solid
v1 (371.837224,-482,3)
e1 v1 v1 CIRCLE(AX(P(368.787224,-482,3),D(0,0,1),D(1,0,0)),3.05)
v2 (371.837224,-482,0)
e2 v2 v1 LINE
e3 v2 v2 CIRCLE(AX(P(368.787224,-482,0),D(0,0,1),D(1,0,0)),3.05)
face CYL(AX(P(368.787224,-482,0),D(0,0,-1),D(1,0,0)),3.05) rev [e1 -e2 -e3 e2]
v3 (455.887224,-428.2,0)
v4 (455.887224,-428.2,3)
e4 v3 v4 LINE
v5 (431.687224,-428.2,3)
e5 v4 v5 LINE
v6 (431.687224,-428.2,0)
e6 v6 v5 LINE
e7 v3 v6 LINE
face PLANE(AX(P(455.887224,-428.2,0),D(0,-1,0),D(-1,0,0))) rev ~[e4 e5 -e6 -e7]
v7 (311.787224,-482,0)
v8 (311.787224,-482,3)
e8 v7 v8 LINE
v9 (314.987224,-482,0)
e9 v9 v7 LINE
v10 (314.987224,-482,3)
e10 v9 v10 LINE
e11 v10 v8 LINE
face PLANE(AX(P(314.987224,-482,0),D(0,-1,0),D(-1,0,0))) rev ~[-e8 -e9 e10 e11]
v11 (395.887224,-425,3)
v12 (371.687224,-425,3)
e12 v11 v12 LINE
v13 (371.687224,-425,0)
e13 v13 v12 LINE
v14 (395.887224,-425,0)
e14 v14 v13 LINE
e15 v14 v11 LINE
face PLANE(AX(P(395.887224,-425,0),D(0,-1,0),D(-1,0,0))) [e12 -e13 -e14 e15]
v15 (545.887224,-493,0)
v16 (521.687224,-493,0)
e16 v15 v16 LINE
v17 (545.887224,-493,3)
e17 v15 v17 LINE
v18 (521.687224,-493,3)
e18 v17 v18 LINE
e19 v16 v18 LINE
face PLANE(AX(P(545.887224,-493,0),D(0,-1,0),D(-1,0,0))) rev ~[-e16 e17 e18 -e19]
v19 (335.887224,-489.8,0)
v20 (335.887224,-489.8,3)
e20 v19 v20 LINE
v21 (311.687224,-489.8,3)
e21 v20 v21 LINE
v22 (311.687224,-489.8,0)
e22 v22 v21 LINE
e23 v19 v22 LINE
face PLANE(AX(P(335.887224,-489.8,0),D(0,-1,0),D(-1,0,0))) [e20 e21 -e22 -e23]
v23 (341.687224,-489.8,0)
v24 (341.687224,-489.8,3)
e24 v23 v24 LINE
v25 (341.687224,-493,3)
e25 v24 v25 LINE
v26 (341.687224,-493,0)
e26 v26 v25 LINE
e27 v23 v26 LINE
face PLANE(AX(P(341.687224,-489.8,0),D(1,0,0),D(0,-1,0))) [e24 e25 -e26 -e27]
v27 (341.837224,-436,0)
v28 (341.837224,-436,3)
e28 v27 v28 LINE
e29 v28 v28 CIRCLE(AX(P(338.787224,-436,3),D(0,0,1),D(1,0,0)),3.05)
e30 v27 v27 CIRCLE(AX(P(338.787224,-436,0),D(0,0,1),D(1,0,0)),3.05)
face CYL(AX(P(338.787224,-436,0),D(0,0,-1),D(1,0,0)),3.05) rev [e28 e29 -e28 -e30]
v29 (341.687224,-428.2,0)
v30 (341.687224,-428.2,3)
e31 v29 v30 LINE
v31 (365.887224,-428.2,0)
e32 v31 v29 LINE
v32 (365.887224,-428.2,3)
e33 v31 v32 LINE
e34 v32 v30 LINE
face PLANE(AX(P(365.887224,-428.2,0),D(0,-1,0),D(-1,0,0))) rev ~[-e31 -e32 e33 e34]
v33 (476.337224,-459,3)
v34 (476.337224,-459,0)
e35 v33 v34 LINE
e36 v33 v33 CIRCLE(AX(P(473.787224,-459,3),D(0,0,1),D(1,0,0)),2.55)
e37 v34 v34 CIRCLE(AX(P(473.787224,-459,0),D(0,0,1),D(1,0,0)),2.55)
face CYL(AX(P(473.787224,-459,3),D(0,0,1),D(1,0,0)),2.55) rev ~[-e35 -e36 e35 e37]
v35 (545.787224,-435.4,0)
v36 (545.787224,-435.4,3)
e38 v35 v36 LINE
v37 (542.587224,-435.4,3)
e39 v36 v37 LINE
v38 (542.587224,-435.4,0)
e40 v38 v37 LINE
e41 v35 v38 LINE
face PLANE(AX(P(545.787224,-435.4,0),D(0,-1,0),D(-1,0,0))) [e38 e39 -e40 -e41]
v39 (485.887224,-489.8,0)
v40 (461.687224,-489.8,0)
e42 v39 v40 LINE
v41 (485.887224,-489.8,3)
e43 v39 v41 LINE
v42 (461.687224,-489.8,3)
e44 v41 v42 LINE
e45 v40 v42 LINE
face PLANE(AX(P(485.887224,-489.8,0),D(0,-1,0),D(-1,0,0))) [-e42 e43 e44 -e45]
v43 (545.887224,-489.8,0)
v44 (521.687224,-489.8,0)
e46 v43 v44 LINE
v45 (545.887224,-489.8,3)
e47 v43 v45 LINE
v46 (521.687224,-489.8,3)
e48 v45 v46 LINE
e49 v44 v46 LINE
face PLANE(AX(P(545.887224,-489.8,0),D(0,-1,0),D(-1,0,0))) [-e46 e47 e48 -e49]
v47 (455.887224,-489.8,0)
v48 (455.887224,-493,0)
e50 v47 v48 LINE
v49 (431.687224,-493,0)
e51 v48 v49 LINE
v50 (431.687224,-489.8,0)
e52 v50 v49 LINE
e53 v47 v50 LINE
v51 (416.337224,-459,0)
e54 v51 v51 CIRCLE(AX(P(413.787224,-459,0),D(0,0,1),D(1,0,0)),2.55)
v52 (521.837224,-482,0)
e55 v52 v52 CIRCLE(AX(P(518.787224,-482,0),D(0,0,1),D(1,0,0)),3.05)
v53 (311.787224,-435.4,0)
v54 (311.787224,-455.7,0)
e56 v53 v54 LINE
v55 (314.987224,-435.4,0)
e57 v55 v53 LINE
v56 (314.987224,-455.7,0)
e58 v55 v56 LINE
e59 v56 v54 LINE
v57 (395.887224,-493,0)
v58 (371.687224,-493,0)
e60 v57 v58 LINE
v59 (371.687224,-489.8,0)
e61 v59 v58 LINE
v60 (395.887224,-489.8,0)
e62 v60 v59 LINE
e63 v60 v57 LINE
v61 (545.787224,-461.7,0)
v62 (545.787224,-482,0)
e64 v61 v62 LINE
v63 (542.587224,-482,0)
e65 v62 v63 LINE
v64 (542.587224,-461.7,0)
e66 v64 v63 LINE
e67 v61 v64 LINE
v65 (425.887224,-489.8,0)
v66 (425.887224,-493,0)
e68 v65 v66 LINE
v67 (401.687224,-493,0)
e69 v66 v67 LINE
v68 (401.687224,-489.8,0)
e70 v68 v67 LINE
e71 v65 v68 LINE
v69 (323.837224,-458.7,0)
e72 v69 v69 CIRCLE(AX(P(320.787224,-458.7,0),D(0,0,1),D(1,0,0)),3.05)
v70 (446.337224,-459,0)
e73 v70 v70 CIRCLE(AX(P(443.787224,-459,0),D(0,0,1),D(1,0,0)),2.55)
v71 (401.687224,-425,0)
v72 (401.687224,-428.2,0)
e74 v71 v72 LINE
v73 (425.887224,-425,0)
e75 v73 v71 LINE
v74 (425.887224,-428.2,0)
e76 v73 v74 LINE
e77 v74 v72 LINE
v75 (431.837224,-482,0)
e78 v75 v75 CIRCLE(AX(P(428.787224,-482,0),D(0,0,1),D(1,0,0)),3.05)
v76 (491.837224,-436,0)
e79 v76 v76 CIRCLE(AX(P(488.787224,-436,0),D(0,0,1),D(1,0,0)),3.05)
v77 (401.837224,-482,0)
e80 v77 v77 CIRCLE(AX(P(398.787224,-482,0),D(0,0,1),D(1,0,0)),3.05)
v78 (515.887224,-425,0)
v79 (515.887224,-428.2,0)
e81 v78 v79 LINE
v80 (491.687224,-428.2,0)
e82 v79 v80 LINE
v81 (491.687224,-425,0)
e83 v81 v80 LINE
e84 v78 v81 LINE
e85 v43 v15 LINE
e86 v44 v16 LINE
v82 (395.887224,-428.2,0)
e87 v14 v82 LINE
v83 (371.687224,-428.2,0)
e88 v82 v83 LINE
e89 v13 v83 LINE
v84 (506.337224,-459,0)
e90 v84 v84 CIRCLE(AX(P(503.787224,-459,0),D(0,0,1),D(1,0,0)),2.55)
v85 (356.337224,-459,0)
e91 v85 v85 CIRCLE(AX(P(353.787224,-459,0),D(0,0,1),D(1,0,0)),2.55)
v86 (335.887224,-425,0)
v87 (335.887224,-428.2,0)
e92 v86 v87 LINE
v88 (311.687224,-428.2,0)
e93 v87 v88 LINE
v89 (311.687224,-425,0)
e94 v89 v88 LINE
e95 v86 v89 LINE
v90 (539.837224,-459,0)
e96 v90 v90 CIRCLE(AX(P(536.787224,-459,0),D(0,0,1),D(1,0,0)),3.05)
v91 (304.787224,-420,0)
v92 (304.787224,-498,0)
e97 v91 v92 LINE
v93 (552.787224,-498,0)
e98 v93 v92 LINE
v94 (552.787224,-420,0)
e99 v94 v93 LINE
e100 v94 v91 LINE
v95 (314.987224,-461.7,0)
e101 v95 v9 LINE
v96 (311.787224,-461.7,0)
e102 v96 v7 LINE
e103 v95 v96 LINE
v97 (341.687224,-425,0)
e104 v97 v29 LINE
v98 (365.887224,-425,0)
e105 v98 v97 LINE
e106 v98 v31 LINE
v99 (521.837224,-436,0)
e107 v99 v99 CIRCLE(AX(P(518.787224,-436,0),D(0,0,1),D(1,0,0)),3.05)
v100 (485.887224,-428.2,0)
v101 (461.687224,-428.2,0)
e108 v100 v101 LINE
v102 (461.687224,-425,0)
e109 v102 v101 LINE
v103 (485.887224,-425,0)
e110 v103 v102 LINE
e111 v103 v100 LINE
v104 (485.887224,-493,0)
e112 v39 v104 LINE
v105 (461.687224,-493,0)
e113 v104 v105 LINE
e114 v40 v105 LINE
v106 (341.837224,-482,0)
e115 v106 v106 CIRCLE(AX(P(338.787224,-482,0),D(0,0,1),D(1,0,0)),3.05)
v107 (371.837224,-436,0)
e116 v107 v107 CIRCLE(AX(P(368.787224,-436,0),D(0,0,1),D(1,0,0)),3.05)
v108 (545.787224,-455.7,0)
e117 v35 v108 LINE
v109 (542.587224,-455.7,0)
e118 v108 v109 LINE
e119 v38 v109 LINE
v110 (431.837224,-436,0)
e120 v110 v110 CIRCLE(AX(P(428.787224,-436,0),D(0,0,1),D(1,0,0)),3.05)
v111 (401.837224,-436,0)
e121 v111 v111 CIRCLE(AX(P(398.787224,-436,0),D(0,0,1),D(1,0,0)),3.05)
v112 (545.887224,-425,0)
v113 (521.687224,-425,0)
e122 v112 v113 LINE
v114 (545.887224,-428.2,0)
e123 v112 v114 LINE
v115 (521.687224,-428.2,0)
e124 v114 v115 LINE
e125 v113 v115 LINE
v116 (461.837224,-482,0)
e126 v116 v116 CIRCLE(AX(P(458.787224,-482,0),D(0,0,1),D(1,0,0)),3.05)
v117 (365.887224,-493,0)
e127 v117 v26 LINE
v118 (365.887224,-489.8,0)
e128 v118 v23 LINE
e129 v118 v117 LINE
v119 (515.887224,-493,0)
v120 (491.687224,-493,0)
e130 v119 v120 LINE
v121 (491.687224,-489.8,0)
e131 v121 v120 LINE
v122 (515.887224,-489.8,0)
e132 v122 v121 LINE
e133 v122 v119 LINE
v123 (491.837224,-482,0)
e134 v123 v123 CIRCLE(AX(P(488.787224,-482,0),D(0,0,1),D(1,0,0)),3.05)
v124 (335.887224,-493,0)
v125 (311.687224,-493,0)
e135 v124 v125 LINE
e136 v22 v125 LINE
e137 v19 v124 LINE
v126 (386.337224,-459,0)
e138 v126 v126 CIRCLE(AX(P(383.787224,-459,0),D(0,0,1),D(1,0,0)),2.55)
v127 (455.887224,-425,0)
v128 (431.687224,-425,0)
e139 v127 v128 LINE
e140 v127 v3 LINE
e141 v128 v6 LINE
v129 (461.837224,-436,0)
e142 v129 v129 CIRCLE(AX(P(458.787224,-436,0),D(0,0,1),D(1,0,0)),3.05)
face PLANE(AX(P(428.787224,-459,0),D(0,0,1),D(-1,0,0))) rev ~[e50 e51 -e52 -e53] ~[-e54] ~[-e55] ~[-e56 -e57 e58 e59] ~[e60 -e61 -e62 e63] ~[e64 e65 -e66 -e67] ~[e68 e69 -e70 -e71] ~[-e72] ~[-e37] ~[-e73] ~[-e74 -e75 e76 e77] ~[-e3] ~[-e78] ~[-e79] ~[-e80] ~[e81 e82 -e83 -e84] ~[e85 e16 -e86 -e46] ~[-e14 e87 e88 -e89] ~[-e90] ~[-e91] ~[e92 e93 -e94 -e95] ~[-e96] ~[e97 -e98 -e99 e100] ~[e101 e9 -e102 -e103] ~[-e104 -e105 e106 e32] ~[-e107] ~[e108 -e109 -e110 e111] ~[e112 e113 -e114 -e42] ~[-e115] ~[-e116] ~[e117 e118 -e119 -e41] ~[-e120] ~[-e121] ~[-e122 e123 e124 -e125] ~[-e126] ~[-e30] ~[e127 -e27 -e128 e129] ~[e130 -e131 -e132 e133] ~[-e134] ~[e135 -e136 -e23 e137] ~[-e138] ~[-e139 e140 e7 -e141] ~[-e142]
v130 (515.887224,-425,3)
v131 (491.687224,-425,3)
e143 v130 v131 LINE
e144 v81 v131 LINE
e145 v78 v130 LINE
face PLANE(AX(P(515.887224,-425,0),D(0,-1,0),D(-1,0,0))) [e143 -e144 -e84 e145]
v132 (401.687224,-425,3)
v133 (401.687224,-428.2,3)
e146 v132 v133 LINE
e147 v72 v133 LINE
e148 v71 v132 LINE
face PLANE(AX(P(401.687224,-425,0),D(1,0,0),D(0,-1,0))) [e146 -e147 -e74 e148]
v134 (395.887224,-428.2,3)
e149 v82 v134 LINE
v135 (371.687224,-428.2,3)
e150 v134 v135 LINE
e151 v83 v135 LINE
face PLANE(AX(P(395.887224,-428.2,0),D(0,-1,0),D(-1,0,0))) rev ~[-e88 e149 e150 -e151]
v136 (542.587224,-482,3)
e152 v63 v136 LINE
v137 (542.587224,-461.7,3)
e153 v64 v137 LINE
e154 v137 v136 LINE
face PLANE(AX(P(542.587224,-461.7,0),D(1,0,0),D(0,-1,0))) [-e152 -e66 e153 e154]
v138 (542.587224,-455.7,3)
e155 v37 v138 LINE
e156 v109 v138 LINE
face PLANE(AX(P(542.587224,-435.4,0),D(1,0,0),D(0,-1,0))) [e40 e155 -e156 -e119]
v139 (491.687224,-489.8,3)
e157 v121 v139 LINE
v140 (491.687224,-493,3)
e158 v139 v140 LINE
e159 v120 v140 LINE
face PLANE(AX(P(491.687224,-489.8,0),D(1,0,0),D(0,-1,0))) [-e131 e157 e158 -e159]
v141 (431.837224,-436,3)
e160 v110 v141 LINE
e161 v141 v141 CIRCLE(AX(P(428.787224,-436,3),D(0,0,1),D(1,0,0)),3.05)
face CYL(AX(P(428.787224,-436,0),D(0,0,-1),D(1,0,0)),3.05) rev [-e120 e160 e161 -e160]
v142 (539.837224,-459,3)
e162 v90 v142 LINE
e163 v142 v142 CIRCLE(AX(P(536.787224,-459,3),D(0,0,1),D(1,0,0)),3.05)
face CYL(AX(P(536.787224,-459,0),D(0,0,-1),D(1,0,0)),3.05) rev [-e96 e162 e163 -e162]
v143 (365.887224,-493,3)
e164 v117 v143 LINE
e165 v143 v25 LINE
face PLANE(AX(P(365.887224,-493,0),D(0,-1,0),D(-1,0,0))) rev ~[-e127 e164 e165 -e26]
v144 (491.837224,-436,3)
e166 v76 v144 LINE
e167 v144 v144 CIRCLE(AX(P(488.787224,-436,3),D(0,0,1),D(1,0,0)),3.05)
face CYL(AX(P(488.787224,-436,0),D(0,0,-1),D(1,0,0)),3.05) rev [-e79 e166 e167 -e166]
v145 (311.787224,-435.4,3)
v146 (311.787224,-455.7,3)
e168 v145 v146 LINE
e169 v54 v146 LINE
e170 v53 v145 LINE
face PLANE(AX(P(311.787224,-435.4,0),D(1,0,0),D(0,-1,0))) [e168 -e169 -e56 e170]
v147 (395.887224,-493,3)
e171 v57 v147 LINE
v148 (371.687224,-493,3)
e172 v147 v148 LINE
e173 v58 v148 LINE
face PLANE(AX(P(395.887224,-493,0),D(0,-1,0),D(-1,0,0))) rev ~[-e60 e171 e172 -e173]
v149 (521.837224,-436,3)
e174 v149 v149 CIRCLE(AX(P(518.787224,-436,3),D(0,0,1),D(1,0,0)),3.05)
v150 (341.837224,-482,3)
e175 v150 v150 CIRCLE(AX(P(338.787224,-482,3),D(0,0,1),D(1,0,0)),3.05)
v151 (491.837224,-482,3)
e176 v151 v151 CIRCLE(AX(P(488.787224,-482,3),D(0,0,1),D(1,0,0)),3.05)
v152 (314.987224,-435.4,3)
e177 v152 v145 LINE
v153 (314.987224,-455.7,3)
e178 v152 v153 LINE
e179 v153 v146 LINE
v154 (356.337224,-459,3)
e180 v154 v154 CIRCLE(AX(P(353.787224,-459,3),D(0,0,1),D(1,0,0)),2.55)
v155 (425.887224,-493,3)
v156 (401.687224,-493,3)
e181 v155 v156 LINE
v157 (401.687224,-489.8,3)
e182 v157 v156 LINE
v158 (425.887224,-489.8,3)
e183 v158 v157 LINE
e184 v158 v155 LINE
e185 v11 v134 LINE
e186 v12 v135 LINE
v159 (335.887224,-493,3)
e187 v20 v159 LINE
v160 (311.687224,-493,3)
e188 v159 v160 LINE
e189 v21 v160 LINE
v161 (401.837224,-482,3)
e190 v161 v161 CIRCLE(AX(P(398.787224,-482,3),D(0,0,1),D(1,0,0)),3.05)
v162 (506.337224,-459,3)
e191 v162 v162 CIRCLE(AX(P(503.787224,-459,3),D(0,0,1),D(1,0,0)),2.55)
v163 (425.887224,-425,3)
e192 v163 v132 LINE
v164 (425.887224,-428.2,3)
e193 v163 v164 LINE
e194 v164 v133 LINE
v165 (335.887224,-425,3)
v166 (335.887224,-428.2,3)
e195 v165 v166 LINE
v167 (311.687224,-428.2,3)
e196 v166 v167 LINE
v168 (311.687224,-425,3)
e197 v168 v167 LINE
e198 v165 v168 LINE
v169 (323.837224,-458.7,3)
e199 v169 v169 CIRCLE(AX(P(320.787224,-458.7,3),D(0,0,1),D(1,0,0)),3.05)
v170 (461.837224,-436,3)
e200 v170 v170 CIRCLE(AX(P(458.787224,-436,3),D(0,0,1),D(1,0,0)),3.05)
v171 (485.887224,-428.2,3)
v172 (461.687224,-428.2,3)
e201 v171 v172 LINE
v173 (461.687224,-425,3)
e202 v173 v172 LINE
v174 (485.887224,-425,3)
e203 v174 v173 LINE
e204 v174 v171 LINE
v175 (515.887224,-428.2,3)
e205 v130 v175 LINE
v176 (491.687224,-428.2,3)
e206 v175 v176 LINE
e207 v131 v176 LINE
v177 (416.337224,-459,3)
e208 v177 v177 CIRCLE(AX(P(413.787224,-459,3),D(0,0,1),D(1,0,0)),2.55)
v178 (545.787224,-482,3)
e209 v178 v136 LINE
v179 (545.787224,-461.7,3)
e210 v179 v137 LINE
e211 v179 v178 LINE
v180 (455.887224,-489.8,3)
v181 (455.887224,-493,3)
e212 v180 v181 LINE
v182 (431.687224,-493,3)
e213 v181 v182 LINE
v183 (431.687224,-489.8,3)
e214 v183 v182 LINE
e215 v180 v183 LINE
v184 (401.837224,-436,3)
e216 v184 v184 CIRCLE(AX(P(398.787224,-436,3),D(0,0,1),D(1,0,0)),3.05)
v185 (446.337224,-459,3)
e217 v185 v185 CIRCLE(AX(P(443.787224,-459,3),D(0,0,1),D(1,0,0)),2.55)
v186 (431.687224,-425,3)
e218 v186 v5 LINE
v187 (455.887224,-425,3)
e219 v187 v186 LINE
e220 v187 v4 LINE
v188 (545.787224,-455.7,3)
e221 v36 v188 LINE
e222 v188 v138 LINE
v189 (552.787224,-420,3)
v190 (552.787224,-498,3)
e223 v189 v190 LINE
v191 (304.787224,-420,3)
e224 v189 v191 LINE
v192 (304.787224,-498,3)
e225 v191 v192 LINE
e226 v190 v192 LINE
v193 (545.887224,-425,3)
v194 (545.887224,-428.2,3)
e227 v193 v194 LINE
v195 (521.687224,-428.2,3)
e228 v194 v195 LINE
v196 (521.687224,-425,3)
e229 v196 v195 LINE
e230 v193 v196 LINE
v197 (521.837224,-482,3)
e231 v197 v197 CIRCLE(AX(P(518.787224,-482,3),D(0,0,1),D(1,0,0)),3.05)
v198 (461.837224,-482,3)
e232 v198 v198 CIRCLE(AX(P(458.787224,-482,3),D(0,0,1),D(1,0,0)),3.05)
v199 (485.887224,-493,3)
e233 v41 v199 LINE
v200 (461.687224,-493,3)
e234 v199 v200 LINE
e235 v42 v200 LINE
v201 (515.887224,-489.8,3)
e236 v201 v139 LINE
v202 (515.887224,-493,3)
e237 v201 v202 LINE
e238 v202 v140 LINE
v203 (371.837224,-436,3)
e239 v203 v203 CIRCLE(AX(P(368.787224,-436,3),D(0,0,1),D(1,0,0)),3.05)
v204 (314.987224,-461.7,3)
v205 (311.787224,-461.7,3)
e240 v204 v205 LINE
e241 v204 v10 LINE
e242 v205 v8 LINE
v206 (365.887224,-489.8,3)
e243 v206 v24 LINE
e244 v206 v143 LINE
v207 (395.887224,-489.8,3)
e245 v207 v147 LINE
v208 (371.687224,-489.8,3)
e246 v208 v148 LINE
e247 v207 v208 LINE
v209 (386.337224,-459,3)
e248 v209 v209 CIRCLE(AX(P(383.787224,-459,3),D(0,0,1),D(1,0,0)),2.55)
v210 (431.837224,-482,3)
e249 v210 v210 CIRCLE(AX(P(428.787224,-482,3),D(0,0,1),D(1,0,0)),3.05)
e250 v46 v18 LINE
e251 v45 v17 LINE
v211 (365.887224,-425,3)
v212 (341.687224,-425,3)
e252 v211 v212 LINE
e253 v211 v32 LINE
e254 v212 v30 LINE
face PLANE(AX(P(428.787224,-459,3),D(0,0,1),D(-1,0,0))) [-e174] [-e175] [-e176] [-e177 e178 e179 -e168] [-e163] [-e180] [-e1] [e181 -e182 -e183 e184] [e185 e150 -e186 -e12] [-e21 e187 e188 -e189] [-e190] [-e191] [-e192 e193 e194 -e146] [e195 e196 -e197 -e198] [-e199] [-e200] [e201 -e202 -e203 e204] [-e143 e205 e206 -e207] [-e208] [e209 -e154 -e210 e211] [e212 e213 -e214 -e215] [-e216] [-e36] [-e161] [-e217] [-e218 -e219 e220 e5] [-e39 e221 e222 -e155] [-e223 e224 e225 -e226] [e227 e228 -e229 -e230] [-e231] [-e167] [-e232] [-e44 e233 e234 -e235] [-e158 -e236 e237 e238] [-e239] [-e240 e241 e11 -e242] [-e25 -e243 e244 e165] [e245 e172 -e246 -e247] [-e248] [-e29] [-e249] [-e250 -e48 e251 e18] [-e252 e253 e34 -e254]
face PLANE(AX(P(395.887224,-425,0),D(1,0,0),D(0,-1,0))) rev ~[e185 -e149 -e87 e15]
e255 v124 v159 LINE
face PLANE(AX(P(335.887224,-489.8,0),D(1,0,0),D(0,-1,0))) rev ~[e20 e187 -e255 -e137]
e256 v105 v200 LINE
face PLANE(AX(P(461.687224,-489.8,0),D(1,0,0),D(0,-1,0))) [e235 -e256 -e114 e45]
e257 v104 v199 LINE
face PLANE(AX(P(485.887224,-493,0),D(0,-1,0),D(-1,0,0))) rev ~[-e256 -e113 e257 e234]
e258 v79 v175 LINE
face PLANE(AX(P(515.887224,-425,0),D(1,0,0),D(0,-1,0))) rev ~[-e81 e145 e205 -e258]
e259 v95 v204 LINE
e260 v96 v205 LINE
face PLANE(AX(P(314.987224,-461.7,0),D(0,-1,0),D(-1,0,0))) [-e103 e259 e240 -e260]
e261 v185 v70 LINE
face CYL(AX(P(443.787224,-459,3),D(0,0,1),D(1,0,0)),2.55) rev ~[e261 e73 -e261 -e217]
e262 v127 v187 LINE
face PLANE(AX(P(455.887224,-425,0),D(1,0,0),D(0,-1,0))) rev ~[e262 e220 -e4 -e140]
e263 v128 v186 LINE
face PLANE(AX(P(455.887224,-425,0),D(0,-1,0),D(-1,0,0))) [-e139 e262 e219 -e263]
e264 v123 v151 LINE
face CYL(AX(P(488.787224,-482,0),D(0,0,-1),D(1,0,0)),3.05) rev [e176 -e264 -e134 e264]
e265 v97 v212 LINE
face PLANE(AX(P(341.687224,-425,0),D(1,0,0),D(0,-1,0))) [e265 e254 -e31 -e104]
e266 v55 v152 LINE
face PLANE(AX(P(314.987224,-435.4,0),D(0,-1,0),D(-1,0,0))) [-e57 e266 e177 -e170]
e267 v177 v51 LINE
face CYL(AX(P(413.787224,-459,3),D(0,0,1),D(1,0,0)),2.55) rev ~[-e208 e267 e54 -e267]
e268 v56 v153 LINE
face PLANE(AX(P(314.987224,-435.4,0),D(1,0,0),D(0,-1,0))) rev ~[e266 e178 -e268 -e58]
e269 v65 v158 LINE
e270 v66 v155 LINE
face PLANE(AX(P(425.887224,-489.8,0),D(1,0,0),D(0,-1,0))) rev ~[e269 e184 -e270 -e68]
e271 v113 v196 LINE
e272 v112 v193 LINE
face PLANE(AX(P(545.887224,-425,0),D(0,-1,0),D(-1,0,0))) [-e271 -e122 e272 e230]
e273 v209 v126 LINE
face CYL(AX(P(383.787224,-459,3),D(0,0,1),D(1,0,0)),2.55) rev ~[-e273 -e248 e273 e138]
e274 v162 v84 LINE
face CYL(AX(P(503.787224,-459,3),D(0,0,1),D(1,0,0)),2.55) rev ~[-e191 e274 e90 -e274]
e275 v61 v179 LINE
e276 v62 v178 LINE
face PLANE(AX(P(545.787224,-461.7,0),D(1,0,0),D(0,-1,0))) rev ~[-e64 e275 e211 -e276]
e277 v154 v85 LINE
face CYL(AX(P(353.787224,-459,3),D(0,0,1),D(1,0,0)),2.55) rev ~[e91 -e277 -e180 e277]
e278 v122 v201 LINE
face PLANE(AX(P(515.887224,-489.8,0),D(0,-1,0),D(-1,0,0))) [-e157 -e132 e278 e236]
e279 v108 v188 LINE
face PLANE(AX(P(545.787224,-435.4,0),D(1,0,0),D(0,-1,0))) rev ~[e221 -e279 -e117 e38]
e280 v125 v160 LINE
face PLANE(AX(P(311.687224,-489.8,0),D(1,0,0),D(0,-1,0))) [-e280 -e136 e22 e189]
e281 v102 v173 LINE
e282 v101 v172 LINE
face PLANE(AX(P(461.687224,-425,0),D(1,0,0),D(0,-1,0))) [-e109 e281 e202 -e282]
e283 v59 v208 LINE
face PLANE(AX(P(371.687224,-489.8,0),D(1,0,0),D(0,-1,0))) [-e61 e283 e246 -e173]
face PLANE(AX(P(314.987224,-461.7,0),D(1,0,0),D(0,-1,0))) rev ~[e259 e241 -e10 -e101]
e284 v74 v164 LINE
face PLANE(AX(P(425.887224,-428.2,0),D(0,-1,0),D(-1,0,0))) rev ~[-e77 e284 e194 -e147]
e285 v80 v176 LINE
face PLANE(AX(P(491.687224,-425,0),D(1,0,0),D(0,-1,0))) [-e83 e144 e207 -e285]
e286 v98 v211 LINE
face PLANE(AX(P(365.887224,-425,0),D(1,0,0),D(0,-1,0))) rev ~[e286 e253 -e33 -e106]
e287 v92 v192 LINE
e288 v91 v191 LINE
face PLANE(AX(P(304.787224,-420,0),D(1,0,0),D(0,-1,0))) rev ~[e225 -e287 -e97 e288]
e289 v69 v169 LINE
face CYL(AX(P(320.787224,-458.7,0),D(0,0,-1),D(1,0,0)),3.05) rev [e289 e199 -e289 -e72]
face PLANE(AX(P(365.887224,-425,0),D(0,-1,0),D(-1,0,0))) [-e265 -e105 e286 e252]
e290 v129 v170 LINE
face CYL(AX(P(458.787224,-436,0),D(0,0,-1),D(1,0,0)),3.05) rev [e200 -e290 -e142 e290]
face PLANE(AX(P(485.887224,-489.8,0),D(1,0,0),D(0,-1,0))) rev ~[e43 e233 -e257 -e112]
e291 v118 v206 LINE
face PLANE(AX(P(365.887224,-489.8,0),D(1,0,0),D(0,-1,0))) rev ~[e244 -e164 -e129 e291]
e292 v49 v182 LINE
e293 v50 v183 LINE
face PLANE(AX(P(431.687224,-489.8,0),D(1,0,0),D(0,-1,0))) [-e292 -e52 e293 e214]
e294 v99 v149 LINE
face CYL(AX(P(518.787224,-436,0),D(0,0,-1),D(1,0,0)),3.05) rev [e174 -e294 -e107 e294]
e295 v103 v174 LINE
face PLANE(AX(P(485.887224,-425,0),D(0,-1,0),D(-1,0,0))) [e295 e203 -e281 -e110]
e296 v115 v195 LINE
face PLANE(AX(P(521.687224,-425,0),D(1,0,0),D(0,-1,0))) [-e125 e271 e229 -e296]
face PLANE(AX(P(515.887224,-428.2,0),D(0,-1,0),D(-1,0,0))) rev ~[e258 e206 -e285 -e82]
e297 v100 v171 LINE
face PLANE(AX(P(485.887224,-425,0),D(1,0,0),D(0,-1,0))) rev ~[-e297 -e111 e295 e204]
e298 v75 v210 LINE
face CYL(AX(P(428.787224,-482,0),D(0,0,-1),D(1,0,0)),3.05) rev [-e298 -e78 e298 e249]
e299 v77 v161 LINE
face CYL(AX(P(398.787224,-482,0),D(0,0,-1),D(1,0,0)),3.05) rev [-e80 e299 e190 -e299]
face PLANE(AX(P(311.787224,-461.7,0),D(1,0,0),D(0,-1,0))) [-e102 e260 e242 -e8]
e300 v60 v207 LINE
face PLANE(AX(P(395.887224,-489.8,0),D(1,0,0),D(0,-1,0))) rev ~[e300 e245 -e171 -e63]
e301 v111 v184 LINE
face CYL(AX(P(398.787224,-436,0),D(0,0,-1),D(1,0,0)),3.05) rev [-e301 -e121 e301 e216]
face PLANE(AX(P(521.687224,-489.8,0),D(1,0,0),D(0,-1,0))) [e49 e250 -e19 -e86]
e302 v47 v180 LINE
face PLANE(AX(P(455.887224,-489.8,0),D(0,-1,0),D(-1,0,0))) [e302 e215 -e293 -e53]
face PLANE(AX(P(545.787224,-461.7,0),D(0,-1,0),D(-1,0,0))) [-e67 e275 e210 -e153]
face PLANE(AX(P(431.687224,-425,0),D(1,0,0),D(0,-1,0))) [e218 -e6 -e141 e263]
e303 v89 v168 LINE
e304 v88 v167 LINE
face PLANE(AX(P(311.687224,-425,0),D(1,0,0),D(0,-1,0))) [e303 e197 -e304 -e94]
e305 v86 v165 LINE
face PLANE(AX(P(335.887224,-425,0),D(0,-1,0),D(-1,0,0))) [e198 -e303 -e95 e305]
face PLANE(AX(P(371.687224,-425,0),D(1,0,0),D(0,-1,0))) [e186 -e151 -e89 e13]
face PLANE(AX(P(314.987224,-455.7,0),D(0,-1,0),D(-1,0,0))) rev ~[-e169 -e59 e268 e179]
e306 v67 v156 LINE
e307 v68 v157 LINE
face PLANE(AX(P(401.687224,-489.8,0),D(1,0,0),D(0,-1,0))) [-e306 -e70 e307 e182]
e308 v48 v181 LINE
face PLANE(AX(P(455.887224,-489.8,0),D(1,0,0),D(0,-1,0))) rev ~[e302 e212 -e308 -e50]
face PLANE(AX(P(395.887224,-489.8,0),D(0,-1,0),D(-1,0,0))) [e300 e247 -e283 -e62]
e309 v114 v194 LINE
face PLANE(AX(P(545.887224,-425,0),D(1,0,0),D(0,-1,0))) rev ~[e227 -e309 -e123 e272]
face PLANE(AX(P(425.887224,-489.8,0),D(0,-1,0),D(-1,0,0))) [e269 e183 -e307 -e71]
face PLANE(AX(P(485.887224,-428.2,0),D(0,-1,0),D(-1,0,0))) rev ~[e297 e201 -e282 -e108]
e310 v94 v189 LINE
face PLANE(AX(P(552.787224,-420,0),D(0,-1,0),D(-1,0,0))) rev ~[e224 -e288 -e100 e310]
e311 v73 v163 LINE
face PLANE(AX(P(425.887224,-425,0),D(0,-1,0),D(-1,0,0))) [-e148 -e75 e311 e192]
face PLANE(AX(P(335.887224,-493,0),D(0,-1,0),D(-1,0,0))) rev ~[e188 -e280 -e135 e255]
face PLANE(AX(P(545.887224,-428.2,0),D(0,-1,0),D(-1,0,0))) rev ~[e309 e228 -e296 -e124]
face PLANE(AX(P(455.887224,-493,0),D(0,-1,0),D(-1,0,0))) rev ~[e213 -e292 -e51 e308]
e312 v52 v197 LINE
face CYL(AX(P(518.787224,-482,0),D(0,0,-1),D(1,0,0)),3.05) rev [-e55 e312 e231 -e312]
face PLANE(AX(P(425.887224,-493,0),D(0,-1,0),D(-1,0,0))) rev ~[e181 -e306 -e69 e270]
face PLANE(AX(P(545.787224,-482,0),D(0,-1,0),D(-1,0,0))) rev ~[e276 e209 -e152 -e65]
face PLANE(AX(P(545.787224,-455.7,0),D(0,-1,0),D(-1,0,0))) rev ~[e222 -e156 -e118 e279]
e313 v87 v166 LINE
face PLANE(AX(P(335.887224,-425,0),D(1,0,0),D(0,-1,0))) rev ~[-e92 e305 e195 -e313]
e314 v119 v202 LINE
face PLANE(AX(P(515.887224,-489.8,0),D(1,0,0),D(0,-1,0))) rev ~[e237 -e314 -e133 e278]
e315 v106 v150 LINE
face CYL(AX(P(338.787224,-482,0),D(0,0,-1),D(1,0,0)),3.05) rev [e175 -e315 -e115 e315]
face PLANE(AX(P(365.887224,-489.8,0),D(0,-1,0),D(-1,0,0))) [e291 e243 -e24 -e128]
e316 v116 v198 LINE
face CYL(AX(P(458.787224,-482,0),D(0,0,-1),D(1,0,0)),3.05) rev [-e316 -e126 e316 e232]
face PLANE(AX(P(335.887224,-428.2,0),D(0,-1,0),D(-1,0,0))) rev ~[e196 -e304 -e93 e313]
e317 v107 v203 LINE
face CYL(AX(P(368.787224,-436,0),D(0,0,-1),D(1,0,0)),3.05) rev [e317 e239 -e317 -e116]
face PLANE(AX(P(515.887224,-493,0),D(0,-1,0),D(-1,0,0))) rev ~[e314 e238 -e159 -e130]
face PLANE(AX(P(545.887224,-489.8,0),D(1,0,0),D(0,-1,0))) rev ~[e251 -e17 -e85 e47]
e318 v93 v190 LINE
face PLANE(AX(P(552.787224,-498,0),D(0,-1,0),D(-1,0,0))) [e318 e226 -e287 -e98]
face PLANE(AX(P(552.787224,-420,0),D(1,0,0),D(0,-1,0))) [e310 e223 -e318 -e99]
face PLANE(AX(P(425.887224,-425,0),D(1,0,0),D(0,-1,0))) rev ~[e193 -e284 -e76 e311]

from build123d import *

# Parameters (mm, degrees)
SKETCH1_W           = 248
SKETCH1_H           = 78
SKETCH1_R           = 3.05
SKETCH1_W_2         = 24.2
SKETCH1_H_2         = 3.2
SKETCH1_W_3         = 3.2
SKETCH1_H_3         = 20.3
BOSS_EXTRUDE2_DEPTH = 3
SKETCH5_R           = 2.55
CUT_EXTRUDE1_DEPTH  = 10


with BuildPart() as part:
    # Sketch1 → Boss-Extrude2 (new body)
    with BuildSketch(Plane(origin=(0, 0, 0), x_dir=(-1, 0, 0), z_dir=(0, 0, 1))):
        with Locations((-428.787224347, 459)):
            Rectangle(SKETCH1_W, SKETCH1_H)
        with Locations(Location((-338.787224347, 436, 0), (0, 0, 180))):
            Circle(SKETCH1_R, mode=Mode.SUBTRACT)
        with Locations(Location((-368.787224347, 436, 0), (0, 0, 180))):
            Circle(SKETCH1_R, mode=Mode.SUBTRACT)
        with Locations(Location((-428.787224347, 436, 0), (0, 0, 180))):
            Circle(SKETCH1_R, mode=Mode.SUBTRACT)
        with Locations(Location((-398.787224347, 436, 0), (0, 0, 180))):
            Circle(SKETCH1_R, mode=Mode.SUBTRACT)
        with Locations(Location((-488.787224347, 436, 0), (0, 0, 180))):
            Circle(SKETCH1_R, mode=Mode.SUBTRACT)
        with Locations(Location((-458.787224347, 436, 0), (0, 0, 180))):
            Circle(SKETCH1_R, mode=Mode.SUBTRACT)
        with Locations(Location((-458.787224347, 482, 0), (0, 0, 180))):
            Circle(SKETCH1_R, mode=Mode.SUBTRACT)
        with Locations(Location((-428.787224347, 482, 0), (0, 0, 180))):
            Circle(SKETCH1_R, mode=Mode.SUBTRACT)
        with Locations(Location((-398.787224347, 482, 0), (0, 0, 180))):
            Circle(SKETCH1_R, mode=Mode.SUBTRACT)
        with Locations(Location((-368.787224347, 482, 0), (0, 0, 180))):
            Circle(SKETCH1_R, mode=Mode.SUBTRACT)
        with Locations(Location((-338.787224347, 482, 0), (0, 0, 180))):
            Circle(SKETCH1_R, mode=Mode.SUBTRACT)
        with Locations(Location((-320.787224347, 458.7, 0), (0, 0, 180))):
            Circle(SKETCH1_R, mode=Mode.SUBTRACT)
        with Locations(Location((-488.787224347, 482, 0), (0, 0, 180))):
            Circle(SKETCH1_R, mode=Mode.SUBTRACT)
        with Locations(Location((-518.787224347, 436, 0), (0, 0, 180))):
            Circle(SKETCH1_R, mode=Mode.SUBTRACT)
        with Locations(Location((-536.787224347, 459, 0), (0, 0, 180))):
            Circle(SKETCH1_R, mode=Mode.SUBTRACT)
        with Locations(Location((-518.787224347, 482, 0), (0, 0, 180))):
            Circle(SKETCH1_R, mode=Mode.SUBTRACT)
        with Locations((-383.787224347, 491.4)):
            Rectangle(SKETCH1_W_2, SKETCH1_H_2, mode=Mode.SUBTRACT)
        with Locations((-413.787224347, 491.4)):
            Rectangle(SKETCH1_W_2, SKETCH1_H_2, mode=Mode.SUBTRACT)
        with Locations((-353.787224347, 491.4)):
            Rectangle(SKETCH1_W_2, SKETCH1_H_2, mode=Mode.SUBTRACT)
        with Locations((-443.787224347, 491.4)):
            Rectangle(SKETCH1_W_2, SKETCH1_H_2, mode=Mode.SUBTRACT)
        with Locations((-473.787224347, 491.4)):
            Rectangle(SKETCH1_W_2, SKETCH1_H_2, mode=Mode.SUBTRACT)
        with Locations((-503.787224347, 491.4)):
            Rectangle(SKETCH1_W_2, SKETCH1_H_2, mode=Mode.SUBTRACT)
        with Locations((-533.787224347, 491.4)):
            Rectangle(SKETCH1_W_2, SKETCH1_H_2, mode=Mode.SUBTRACT)
        with Locations((-323.787224347, 491.4)):
            Rectangle(SKETCH1_W_2, SKETCH1_H_2, mode=Mode.SUBTRACT)
        with Locations((-313.387224347, 445.55)):
            Rectangle(SKETCH1_W_3, SKETCH1_H_3, mode=Mode.SUBTRACT)
        with Locations((-313.387224347, 471.85)):
            Rectangle(SKETCH1_W_3, SKETCH1_H_3, mode=Mode.SUBTRACT)
        with Locations((-544.187224347, 445.55)):
            Rectangle(SKETCH1_W_3, SKETCH1_H_3, mode=Mode.SUBTRACT)
        with Locations((-544.187224347, 471.85)):
            Rectangle(SKETCH1_W_3, SKETCH1_H_3, mode=Mode.SUBTRACT)
        with Locations((-533.787224347, 426.6)):
            Rectangle(SKETCH1_W_2, SKETCH1_H_2, mode=Mode.SUBTRACT)
        with Locations((-503.787224347, 426.6)):
            Rectangle(SKETCH1_W_2, SKETCH1_H_2, mode=Mode.SUBTRACT)
        with Locations((-473.787224347, 426.6)):
            Rectangle(SKETCH1_W_2, SKETCH1_H_2, mode=Mode.SUBTRACT)
        with Locations((-443.787224347, 426.6)):
            Rectangle(SKETCH1_W_2, SKETCH1_H_2, mode=Mode.SUBTRACT)
        with Locations((-413.787224347, 426.6)):
            Rectangle(SKETCH1_W_2, SKETCH1_H_2, mode=Mode.SUBTRACT)
        with Locations((-383.787224347, 426.6)):
            Rectangle(SKETCH1_W_2, SKETCH1_H_2, mode=Mode.SUBTRACT)
        with Locations((-353.787224347, 426.6)):
            Rectangle(SKETCH1_W_2, SKETCH1_H_2, mode=Mode.SUBTRACT)
        with Locations((-323.787224347, 426.6)):
            Rectangle(SKETCH1_W_2, SKETCH1_H_2, mode=Mode.SUBTRACT)
    extrude(amount=BOSS_EXTRUDE2_DEPTH)

    # Sketch5 → Cut-Extrude1 (cut)
    with BuildSketch(Plane.XY.offset(3)):
        with Locations((353.787224347, -459)):
            Circle(SKETCH5_R)
        with Locations((383.787224347, -459)):
            Circle(SKETCH5_R)
        with Locations((413.787224347, -459)):
            Circle(SKETCH5_R)
        with Locations((443.787224347, -459)):
            Circle(SKETCH5_R)
        with Locations((473.787224347, -459)):
            Circle(SKETCH5_R)
        with Locations((503.787224347, -459)):
            Circle(SKETCH5_R)
    extrude(amount=-CUT_EXTRUDE1_DEPTH, mode=Mode.SUBTRACT)


solid = part.part
